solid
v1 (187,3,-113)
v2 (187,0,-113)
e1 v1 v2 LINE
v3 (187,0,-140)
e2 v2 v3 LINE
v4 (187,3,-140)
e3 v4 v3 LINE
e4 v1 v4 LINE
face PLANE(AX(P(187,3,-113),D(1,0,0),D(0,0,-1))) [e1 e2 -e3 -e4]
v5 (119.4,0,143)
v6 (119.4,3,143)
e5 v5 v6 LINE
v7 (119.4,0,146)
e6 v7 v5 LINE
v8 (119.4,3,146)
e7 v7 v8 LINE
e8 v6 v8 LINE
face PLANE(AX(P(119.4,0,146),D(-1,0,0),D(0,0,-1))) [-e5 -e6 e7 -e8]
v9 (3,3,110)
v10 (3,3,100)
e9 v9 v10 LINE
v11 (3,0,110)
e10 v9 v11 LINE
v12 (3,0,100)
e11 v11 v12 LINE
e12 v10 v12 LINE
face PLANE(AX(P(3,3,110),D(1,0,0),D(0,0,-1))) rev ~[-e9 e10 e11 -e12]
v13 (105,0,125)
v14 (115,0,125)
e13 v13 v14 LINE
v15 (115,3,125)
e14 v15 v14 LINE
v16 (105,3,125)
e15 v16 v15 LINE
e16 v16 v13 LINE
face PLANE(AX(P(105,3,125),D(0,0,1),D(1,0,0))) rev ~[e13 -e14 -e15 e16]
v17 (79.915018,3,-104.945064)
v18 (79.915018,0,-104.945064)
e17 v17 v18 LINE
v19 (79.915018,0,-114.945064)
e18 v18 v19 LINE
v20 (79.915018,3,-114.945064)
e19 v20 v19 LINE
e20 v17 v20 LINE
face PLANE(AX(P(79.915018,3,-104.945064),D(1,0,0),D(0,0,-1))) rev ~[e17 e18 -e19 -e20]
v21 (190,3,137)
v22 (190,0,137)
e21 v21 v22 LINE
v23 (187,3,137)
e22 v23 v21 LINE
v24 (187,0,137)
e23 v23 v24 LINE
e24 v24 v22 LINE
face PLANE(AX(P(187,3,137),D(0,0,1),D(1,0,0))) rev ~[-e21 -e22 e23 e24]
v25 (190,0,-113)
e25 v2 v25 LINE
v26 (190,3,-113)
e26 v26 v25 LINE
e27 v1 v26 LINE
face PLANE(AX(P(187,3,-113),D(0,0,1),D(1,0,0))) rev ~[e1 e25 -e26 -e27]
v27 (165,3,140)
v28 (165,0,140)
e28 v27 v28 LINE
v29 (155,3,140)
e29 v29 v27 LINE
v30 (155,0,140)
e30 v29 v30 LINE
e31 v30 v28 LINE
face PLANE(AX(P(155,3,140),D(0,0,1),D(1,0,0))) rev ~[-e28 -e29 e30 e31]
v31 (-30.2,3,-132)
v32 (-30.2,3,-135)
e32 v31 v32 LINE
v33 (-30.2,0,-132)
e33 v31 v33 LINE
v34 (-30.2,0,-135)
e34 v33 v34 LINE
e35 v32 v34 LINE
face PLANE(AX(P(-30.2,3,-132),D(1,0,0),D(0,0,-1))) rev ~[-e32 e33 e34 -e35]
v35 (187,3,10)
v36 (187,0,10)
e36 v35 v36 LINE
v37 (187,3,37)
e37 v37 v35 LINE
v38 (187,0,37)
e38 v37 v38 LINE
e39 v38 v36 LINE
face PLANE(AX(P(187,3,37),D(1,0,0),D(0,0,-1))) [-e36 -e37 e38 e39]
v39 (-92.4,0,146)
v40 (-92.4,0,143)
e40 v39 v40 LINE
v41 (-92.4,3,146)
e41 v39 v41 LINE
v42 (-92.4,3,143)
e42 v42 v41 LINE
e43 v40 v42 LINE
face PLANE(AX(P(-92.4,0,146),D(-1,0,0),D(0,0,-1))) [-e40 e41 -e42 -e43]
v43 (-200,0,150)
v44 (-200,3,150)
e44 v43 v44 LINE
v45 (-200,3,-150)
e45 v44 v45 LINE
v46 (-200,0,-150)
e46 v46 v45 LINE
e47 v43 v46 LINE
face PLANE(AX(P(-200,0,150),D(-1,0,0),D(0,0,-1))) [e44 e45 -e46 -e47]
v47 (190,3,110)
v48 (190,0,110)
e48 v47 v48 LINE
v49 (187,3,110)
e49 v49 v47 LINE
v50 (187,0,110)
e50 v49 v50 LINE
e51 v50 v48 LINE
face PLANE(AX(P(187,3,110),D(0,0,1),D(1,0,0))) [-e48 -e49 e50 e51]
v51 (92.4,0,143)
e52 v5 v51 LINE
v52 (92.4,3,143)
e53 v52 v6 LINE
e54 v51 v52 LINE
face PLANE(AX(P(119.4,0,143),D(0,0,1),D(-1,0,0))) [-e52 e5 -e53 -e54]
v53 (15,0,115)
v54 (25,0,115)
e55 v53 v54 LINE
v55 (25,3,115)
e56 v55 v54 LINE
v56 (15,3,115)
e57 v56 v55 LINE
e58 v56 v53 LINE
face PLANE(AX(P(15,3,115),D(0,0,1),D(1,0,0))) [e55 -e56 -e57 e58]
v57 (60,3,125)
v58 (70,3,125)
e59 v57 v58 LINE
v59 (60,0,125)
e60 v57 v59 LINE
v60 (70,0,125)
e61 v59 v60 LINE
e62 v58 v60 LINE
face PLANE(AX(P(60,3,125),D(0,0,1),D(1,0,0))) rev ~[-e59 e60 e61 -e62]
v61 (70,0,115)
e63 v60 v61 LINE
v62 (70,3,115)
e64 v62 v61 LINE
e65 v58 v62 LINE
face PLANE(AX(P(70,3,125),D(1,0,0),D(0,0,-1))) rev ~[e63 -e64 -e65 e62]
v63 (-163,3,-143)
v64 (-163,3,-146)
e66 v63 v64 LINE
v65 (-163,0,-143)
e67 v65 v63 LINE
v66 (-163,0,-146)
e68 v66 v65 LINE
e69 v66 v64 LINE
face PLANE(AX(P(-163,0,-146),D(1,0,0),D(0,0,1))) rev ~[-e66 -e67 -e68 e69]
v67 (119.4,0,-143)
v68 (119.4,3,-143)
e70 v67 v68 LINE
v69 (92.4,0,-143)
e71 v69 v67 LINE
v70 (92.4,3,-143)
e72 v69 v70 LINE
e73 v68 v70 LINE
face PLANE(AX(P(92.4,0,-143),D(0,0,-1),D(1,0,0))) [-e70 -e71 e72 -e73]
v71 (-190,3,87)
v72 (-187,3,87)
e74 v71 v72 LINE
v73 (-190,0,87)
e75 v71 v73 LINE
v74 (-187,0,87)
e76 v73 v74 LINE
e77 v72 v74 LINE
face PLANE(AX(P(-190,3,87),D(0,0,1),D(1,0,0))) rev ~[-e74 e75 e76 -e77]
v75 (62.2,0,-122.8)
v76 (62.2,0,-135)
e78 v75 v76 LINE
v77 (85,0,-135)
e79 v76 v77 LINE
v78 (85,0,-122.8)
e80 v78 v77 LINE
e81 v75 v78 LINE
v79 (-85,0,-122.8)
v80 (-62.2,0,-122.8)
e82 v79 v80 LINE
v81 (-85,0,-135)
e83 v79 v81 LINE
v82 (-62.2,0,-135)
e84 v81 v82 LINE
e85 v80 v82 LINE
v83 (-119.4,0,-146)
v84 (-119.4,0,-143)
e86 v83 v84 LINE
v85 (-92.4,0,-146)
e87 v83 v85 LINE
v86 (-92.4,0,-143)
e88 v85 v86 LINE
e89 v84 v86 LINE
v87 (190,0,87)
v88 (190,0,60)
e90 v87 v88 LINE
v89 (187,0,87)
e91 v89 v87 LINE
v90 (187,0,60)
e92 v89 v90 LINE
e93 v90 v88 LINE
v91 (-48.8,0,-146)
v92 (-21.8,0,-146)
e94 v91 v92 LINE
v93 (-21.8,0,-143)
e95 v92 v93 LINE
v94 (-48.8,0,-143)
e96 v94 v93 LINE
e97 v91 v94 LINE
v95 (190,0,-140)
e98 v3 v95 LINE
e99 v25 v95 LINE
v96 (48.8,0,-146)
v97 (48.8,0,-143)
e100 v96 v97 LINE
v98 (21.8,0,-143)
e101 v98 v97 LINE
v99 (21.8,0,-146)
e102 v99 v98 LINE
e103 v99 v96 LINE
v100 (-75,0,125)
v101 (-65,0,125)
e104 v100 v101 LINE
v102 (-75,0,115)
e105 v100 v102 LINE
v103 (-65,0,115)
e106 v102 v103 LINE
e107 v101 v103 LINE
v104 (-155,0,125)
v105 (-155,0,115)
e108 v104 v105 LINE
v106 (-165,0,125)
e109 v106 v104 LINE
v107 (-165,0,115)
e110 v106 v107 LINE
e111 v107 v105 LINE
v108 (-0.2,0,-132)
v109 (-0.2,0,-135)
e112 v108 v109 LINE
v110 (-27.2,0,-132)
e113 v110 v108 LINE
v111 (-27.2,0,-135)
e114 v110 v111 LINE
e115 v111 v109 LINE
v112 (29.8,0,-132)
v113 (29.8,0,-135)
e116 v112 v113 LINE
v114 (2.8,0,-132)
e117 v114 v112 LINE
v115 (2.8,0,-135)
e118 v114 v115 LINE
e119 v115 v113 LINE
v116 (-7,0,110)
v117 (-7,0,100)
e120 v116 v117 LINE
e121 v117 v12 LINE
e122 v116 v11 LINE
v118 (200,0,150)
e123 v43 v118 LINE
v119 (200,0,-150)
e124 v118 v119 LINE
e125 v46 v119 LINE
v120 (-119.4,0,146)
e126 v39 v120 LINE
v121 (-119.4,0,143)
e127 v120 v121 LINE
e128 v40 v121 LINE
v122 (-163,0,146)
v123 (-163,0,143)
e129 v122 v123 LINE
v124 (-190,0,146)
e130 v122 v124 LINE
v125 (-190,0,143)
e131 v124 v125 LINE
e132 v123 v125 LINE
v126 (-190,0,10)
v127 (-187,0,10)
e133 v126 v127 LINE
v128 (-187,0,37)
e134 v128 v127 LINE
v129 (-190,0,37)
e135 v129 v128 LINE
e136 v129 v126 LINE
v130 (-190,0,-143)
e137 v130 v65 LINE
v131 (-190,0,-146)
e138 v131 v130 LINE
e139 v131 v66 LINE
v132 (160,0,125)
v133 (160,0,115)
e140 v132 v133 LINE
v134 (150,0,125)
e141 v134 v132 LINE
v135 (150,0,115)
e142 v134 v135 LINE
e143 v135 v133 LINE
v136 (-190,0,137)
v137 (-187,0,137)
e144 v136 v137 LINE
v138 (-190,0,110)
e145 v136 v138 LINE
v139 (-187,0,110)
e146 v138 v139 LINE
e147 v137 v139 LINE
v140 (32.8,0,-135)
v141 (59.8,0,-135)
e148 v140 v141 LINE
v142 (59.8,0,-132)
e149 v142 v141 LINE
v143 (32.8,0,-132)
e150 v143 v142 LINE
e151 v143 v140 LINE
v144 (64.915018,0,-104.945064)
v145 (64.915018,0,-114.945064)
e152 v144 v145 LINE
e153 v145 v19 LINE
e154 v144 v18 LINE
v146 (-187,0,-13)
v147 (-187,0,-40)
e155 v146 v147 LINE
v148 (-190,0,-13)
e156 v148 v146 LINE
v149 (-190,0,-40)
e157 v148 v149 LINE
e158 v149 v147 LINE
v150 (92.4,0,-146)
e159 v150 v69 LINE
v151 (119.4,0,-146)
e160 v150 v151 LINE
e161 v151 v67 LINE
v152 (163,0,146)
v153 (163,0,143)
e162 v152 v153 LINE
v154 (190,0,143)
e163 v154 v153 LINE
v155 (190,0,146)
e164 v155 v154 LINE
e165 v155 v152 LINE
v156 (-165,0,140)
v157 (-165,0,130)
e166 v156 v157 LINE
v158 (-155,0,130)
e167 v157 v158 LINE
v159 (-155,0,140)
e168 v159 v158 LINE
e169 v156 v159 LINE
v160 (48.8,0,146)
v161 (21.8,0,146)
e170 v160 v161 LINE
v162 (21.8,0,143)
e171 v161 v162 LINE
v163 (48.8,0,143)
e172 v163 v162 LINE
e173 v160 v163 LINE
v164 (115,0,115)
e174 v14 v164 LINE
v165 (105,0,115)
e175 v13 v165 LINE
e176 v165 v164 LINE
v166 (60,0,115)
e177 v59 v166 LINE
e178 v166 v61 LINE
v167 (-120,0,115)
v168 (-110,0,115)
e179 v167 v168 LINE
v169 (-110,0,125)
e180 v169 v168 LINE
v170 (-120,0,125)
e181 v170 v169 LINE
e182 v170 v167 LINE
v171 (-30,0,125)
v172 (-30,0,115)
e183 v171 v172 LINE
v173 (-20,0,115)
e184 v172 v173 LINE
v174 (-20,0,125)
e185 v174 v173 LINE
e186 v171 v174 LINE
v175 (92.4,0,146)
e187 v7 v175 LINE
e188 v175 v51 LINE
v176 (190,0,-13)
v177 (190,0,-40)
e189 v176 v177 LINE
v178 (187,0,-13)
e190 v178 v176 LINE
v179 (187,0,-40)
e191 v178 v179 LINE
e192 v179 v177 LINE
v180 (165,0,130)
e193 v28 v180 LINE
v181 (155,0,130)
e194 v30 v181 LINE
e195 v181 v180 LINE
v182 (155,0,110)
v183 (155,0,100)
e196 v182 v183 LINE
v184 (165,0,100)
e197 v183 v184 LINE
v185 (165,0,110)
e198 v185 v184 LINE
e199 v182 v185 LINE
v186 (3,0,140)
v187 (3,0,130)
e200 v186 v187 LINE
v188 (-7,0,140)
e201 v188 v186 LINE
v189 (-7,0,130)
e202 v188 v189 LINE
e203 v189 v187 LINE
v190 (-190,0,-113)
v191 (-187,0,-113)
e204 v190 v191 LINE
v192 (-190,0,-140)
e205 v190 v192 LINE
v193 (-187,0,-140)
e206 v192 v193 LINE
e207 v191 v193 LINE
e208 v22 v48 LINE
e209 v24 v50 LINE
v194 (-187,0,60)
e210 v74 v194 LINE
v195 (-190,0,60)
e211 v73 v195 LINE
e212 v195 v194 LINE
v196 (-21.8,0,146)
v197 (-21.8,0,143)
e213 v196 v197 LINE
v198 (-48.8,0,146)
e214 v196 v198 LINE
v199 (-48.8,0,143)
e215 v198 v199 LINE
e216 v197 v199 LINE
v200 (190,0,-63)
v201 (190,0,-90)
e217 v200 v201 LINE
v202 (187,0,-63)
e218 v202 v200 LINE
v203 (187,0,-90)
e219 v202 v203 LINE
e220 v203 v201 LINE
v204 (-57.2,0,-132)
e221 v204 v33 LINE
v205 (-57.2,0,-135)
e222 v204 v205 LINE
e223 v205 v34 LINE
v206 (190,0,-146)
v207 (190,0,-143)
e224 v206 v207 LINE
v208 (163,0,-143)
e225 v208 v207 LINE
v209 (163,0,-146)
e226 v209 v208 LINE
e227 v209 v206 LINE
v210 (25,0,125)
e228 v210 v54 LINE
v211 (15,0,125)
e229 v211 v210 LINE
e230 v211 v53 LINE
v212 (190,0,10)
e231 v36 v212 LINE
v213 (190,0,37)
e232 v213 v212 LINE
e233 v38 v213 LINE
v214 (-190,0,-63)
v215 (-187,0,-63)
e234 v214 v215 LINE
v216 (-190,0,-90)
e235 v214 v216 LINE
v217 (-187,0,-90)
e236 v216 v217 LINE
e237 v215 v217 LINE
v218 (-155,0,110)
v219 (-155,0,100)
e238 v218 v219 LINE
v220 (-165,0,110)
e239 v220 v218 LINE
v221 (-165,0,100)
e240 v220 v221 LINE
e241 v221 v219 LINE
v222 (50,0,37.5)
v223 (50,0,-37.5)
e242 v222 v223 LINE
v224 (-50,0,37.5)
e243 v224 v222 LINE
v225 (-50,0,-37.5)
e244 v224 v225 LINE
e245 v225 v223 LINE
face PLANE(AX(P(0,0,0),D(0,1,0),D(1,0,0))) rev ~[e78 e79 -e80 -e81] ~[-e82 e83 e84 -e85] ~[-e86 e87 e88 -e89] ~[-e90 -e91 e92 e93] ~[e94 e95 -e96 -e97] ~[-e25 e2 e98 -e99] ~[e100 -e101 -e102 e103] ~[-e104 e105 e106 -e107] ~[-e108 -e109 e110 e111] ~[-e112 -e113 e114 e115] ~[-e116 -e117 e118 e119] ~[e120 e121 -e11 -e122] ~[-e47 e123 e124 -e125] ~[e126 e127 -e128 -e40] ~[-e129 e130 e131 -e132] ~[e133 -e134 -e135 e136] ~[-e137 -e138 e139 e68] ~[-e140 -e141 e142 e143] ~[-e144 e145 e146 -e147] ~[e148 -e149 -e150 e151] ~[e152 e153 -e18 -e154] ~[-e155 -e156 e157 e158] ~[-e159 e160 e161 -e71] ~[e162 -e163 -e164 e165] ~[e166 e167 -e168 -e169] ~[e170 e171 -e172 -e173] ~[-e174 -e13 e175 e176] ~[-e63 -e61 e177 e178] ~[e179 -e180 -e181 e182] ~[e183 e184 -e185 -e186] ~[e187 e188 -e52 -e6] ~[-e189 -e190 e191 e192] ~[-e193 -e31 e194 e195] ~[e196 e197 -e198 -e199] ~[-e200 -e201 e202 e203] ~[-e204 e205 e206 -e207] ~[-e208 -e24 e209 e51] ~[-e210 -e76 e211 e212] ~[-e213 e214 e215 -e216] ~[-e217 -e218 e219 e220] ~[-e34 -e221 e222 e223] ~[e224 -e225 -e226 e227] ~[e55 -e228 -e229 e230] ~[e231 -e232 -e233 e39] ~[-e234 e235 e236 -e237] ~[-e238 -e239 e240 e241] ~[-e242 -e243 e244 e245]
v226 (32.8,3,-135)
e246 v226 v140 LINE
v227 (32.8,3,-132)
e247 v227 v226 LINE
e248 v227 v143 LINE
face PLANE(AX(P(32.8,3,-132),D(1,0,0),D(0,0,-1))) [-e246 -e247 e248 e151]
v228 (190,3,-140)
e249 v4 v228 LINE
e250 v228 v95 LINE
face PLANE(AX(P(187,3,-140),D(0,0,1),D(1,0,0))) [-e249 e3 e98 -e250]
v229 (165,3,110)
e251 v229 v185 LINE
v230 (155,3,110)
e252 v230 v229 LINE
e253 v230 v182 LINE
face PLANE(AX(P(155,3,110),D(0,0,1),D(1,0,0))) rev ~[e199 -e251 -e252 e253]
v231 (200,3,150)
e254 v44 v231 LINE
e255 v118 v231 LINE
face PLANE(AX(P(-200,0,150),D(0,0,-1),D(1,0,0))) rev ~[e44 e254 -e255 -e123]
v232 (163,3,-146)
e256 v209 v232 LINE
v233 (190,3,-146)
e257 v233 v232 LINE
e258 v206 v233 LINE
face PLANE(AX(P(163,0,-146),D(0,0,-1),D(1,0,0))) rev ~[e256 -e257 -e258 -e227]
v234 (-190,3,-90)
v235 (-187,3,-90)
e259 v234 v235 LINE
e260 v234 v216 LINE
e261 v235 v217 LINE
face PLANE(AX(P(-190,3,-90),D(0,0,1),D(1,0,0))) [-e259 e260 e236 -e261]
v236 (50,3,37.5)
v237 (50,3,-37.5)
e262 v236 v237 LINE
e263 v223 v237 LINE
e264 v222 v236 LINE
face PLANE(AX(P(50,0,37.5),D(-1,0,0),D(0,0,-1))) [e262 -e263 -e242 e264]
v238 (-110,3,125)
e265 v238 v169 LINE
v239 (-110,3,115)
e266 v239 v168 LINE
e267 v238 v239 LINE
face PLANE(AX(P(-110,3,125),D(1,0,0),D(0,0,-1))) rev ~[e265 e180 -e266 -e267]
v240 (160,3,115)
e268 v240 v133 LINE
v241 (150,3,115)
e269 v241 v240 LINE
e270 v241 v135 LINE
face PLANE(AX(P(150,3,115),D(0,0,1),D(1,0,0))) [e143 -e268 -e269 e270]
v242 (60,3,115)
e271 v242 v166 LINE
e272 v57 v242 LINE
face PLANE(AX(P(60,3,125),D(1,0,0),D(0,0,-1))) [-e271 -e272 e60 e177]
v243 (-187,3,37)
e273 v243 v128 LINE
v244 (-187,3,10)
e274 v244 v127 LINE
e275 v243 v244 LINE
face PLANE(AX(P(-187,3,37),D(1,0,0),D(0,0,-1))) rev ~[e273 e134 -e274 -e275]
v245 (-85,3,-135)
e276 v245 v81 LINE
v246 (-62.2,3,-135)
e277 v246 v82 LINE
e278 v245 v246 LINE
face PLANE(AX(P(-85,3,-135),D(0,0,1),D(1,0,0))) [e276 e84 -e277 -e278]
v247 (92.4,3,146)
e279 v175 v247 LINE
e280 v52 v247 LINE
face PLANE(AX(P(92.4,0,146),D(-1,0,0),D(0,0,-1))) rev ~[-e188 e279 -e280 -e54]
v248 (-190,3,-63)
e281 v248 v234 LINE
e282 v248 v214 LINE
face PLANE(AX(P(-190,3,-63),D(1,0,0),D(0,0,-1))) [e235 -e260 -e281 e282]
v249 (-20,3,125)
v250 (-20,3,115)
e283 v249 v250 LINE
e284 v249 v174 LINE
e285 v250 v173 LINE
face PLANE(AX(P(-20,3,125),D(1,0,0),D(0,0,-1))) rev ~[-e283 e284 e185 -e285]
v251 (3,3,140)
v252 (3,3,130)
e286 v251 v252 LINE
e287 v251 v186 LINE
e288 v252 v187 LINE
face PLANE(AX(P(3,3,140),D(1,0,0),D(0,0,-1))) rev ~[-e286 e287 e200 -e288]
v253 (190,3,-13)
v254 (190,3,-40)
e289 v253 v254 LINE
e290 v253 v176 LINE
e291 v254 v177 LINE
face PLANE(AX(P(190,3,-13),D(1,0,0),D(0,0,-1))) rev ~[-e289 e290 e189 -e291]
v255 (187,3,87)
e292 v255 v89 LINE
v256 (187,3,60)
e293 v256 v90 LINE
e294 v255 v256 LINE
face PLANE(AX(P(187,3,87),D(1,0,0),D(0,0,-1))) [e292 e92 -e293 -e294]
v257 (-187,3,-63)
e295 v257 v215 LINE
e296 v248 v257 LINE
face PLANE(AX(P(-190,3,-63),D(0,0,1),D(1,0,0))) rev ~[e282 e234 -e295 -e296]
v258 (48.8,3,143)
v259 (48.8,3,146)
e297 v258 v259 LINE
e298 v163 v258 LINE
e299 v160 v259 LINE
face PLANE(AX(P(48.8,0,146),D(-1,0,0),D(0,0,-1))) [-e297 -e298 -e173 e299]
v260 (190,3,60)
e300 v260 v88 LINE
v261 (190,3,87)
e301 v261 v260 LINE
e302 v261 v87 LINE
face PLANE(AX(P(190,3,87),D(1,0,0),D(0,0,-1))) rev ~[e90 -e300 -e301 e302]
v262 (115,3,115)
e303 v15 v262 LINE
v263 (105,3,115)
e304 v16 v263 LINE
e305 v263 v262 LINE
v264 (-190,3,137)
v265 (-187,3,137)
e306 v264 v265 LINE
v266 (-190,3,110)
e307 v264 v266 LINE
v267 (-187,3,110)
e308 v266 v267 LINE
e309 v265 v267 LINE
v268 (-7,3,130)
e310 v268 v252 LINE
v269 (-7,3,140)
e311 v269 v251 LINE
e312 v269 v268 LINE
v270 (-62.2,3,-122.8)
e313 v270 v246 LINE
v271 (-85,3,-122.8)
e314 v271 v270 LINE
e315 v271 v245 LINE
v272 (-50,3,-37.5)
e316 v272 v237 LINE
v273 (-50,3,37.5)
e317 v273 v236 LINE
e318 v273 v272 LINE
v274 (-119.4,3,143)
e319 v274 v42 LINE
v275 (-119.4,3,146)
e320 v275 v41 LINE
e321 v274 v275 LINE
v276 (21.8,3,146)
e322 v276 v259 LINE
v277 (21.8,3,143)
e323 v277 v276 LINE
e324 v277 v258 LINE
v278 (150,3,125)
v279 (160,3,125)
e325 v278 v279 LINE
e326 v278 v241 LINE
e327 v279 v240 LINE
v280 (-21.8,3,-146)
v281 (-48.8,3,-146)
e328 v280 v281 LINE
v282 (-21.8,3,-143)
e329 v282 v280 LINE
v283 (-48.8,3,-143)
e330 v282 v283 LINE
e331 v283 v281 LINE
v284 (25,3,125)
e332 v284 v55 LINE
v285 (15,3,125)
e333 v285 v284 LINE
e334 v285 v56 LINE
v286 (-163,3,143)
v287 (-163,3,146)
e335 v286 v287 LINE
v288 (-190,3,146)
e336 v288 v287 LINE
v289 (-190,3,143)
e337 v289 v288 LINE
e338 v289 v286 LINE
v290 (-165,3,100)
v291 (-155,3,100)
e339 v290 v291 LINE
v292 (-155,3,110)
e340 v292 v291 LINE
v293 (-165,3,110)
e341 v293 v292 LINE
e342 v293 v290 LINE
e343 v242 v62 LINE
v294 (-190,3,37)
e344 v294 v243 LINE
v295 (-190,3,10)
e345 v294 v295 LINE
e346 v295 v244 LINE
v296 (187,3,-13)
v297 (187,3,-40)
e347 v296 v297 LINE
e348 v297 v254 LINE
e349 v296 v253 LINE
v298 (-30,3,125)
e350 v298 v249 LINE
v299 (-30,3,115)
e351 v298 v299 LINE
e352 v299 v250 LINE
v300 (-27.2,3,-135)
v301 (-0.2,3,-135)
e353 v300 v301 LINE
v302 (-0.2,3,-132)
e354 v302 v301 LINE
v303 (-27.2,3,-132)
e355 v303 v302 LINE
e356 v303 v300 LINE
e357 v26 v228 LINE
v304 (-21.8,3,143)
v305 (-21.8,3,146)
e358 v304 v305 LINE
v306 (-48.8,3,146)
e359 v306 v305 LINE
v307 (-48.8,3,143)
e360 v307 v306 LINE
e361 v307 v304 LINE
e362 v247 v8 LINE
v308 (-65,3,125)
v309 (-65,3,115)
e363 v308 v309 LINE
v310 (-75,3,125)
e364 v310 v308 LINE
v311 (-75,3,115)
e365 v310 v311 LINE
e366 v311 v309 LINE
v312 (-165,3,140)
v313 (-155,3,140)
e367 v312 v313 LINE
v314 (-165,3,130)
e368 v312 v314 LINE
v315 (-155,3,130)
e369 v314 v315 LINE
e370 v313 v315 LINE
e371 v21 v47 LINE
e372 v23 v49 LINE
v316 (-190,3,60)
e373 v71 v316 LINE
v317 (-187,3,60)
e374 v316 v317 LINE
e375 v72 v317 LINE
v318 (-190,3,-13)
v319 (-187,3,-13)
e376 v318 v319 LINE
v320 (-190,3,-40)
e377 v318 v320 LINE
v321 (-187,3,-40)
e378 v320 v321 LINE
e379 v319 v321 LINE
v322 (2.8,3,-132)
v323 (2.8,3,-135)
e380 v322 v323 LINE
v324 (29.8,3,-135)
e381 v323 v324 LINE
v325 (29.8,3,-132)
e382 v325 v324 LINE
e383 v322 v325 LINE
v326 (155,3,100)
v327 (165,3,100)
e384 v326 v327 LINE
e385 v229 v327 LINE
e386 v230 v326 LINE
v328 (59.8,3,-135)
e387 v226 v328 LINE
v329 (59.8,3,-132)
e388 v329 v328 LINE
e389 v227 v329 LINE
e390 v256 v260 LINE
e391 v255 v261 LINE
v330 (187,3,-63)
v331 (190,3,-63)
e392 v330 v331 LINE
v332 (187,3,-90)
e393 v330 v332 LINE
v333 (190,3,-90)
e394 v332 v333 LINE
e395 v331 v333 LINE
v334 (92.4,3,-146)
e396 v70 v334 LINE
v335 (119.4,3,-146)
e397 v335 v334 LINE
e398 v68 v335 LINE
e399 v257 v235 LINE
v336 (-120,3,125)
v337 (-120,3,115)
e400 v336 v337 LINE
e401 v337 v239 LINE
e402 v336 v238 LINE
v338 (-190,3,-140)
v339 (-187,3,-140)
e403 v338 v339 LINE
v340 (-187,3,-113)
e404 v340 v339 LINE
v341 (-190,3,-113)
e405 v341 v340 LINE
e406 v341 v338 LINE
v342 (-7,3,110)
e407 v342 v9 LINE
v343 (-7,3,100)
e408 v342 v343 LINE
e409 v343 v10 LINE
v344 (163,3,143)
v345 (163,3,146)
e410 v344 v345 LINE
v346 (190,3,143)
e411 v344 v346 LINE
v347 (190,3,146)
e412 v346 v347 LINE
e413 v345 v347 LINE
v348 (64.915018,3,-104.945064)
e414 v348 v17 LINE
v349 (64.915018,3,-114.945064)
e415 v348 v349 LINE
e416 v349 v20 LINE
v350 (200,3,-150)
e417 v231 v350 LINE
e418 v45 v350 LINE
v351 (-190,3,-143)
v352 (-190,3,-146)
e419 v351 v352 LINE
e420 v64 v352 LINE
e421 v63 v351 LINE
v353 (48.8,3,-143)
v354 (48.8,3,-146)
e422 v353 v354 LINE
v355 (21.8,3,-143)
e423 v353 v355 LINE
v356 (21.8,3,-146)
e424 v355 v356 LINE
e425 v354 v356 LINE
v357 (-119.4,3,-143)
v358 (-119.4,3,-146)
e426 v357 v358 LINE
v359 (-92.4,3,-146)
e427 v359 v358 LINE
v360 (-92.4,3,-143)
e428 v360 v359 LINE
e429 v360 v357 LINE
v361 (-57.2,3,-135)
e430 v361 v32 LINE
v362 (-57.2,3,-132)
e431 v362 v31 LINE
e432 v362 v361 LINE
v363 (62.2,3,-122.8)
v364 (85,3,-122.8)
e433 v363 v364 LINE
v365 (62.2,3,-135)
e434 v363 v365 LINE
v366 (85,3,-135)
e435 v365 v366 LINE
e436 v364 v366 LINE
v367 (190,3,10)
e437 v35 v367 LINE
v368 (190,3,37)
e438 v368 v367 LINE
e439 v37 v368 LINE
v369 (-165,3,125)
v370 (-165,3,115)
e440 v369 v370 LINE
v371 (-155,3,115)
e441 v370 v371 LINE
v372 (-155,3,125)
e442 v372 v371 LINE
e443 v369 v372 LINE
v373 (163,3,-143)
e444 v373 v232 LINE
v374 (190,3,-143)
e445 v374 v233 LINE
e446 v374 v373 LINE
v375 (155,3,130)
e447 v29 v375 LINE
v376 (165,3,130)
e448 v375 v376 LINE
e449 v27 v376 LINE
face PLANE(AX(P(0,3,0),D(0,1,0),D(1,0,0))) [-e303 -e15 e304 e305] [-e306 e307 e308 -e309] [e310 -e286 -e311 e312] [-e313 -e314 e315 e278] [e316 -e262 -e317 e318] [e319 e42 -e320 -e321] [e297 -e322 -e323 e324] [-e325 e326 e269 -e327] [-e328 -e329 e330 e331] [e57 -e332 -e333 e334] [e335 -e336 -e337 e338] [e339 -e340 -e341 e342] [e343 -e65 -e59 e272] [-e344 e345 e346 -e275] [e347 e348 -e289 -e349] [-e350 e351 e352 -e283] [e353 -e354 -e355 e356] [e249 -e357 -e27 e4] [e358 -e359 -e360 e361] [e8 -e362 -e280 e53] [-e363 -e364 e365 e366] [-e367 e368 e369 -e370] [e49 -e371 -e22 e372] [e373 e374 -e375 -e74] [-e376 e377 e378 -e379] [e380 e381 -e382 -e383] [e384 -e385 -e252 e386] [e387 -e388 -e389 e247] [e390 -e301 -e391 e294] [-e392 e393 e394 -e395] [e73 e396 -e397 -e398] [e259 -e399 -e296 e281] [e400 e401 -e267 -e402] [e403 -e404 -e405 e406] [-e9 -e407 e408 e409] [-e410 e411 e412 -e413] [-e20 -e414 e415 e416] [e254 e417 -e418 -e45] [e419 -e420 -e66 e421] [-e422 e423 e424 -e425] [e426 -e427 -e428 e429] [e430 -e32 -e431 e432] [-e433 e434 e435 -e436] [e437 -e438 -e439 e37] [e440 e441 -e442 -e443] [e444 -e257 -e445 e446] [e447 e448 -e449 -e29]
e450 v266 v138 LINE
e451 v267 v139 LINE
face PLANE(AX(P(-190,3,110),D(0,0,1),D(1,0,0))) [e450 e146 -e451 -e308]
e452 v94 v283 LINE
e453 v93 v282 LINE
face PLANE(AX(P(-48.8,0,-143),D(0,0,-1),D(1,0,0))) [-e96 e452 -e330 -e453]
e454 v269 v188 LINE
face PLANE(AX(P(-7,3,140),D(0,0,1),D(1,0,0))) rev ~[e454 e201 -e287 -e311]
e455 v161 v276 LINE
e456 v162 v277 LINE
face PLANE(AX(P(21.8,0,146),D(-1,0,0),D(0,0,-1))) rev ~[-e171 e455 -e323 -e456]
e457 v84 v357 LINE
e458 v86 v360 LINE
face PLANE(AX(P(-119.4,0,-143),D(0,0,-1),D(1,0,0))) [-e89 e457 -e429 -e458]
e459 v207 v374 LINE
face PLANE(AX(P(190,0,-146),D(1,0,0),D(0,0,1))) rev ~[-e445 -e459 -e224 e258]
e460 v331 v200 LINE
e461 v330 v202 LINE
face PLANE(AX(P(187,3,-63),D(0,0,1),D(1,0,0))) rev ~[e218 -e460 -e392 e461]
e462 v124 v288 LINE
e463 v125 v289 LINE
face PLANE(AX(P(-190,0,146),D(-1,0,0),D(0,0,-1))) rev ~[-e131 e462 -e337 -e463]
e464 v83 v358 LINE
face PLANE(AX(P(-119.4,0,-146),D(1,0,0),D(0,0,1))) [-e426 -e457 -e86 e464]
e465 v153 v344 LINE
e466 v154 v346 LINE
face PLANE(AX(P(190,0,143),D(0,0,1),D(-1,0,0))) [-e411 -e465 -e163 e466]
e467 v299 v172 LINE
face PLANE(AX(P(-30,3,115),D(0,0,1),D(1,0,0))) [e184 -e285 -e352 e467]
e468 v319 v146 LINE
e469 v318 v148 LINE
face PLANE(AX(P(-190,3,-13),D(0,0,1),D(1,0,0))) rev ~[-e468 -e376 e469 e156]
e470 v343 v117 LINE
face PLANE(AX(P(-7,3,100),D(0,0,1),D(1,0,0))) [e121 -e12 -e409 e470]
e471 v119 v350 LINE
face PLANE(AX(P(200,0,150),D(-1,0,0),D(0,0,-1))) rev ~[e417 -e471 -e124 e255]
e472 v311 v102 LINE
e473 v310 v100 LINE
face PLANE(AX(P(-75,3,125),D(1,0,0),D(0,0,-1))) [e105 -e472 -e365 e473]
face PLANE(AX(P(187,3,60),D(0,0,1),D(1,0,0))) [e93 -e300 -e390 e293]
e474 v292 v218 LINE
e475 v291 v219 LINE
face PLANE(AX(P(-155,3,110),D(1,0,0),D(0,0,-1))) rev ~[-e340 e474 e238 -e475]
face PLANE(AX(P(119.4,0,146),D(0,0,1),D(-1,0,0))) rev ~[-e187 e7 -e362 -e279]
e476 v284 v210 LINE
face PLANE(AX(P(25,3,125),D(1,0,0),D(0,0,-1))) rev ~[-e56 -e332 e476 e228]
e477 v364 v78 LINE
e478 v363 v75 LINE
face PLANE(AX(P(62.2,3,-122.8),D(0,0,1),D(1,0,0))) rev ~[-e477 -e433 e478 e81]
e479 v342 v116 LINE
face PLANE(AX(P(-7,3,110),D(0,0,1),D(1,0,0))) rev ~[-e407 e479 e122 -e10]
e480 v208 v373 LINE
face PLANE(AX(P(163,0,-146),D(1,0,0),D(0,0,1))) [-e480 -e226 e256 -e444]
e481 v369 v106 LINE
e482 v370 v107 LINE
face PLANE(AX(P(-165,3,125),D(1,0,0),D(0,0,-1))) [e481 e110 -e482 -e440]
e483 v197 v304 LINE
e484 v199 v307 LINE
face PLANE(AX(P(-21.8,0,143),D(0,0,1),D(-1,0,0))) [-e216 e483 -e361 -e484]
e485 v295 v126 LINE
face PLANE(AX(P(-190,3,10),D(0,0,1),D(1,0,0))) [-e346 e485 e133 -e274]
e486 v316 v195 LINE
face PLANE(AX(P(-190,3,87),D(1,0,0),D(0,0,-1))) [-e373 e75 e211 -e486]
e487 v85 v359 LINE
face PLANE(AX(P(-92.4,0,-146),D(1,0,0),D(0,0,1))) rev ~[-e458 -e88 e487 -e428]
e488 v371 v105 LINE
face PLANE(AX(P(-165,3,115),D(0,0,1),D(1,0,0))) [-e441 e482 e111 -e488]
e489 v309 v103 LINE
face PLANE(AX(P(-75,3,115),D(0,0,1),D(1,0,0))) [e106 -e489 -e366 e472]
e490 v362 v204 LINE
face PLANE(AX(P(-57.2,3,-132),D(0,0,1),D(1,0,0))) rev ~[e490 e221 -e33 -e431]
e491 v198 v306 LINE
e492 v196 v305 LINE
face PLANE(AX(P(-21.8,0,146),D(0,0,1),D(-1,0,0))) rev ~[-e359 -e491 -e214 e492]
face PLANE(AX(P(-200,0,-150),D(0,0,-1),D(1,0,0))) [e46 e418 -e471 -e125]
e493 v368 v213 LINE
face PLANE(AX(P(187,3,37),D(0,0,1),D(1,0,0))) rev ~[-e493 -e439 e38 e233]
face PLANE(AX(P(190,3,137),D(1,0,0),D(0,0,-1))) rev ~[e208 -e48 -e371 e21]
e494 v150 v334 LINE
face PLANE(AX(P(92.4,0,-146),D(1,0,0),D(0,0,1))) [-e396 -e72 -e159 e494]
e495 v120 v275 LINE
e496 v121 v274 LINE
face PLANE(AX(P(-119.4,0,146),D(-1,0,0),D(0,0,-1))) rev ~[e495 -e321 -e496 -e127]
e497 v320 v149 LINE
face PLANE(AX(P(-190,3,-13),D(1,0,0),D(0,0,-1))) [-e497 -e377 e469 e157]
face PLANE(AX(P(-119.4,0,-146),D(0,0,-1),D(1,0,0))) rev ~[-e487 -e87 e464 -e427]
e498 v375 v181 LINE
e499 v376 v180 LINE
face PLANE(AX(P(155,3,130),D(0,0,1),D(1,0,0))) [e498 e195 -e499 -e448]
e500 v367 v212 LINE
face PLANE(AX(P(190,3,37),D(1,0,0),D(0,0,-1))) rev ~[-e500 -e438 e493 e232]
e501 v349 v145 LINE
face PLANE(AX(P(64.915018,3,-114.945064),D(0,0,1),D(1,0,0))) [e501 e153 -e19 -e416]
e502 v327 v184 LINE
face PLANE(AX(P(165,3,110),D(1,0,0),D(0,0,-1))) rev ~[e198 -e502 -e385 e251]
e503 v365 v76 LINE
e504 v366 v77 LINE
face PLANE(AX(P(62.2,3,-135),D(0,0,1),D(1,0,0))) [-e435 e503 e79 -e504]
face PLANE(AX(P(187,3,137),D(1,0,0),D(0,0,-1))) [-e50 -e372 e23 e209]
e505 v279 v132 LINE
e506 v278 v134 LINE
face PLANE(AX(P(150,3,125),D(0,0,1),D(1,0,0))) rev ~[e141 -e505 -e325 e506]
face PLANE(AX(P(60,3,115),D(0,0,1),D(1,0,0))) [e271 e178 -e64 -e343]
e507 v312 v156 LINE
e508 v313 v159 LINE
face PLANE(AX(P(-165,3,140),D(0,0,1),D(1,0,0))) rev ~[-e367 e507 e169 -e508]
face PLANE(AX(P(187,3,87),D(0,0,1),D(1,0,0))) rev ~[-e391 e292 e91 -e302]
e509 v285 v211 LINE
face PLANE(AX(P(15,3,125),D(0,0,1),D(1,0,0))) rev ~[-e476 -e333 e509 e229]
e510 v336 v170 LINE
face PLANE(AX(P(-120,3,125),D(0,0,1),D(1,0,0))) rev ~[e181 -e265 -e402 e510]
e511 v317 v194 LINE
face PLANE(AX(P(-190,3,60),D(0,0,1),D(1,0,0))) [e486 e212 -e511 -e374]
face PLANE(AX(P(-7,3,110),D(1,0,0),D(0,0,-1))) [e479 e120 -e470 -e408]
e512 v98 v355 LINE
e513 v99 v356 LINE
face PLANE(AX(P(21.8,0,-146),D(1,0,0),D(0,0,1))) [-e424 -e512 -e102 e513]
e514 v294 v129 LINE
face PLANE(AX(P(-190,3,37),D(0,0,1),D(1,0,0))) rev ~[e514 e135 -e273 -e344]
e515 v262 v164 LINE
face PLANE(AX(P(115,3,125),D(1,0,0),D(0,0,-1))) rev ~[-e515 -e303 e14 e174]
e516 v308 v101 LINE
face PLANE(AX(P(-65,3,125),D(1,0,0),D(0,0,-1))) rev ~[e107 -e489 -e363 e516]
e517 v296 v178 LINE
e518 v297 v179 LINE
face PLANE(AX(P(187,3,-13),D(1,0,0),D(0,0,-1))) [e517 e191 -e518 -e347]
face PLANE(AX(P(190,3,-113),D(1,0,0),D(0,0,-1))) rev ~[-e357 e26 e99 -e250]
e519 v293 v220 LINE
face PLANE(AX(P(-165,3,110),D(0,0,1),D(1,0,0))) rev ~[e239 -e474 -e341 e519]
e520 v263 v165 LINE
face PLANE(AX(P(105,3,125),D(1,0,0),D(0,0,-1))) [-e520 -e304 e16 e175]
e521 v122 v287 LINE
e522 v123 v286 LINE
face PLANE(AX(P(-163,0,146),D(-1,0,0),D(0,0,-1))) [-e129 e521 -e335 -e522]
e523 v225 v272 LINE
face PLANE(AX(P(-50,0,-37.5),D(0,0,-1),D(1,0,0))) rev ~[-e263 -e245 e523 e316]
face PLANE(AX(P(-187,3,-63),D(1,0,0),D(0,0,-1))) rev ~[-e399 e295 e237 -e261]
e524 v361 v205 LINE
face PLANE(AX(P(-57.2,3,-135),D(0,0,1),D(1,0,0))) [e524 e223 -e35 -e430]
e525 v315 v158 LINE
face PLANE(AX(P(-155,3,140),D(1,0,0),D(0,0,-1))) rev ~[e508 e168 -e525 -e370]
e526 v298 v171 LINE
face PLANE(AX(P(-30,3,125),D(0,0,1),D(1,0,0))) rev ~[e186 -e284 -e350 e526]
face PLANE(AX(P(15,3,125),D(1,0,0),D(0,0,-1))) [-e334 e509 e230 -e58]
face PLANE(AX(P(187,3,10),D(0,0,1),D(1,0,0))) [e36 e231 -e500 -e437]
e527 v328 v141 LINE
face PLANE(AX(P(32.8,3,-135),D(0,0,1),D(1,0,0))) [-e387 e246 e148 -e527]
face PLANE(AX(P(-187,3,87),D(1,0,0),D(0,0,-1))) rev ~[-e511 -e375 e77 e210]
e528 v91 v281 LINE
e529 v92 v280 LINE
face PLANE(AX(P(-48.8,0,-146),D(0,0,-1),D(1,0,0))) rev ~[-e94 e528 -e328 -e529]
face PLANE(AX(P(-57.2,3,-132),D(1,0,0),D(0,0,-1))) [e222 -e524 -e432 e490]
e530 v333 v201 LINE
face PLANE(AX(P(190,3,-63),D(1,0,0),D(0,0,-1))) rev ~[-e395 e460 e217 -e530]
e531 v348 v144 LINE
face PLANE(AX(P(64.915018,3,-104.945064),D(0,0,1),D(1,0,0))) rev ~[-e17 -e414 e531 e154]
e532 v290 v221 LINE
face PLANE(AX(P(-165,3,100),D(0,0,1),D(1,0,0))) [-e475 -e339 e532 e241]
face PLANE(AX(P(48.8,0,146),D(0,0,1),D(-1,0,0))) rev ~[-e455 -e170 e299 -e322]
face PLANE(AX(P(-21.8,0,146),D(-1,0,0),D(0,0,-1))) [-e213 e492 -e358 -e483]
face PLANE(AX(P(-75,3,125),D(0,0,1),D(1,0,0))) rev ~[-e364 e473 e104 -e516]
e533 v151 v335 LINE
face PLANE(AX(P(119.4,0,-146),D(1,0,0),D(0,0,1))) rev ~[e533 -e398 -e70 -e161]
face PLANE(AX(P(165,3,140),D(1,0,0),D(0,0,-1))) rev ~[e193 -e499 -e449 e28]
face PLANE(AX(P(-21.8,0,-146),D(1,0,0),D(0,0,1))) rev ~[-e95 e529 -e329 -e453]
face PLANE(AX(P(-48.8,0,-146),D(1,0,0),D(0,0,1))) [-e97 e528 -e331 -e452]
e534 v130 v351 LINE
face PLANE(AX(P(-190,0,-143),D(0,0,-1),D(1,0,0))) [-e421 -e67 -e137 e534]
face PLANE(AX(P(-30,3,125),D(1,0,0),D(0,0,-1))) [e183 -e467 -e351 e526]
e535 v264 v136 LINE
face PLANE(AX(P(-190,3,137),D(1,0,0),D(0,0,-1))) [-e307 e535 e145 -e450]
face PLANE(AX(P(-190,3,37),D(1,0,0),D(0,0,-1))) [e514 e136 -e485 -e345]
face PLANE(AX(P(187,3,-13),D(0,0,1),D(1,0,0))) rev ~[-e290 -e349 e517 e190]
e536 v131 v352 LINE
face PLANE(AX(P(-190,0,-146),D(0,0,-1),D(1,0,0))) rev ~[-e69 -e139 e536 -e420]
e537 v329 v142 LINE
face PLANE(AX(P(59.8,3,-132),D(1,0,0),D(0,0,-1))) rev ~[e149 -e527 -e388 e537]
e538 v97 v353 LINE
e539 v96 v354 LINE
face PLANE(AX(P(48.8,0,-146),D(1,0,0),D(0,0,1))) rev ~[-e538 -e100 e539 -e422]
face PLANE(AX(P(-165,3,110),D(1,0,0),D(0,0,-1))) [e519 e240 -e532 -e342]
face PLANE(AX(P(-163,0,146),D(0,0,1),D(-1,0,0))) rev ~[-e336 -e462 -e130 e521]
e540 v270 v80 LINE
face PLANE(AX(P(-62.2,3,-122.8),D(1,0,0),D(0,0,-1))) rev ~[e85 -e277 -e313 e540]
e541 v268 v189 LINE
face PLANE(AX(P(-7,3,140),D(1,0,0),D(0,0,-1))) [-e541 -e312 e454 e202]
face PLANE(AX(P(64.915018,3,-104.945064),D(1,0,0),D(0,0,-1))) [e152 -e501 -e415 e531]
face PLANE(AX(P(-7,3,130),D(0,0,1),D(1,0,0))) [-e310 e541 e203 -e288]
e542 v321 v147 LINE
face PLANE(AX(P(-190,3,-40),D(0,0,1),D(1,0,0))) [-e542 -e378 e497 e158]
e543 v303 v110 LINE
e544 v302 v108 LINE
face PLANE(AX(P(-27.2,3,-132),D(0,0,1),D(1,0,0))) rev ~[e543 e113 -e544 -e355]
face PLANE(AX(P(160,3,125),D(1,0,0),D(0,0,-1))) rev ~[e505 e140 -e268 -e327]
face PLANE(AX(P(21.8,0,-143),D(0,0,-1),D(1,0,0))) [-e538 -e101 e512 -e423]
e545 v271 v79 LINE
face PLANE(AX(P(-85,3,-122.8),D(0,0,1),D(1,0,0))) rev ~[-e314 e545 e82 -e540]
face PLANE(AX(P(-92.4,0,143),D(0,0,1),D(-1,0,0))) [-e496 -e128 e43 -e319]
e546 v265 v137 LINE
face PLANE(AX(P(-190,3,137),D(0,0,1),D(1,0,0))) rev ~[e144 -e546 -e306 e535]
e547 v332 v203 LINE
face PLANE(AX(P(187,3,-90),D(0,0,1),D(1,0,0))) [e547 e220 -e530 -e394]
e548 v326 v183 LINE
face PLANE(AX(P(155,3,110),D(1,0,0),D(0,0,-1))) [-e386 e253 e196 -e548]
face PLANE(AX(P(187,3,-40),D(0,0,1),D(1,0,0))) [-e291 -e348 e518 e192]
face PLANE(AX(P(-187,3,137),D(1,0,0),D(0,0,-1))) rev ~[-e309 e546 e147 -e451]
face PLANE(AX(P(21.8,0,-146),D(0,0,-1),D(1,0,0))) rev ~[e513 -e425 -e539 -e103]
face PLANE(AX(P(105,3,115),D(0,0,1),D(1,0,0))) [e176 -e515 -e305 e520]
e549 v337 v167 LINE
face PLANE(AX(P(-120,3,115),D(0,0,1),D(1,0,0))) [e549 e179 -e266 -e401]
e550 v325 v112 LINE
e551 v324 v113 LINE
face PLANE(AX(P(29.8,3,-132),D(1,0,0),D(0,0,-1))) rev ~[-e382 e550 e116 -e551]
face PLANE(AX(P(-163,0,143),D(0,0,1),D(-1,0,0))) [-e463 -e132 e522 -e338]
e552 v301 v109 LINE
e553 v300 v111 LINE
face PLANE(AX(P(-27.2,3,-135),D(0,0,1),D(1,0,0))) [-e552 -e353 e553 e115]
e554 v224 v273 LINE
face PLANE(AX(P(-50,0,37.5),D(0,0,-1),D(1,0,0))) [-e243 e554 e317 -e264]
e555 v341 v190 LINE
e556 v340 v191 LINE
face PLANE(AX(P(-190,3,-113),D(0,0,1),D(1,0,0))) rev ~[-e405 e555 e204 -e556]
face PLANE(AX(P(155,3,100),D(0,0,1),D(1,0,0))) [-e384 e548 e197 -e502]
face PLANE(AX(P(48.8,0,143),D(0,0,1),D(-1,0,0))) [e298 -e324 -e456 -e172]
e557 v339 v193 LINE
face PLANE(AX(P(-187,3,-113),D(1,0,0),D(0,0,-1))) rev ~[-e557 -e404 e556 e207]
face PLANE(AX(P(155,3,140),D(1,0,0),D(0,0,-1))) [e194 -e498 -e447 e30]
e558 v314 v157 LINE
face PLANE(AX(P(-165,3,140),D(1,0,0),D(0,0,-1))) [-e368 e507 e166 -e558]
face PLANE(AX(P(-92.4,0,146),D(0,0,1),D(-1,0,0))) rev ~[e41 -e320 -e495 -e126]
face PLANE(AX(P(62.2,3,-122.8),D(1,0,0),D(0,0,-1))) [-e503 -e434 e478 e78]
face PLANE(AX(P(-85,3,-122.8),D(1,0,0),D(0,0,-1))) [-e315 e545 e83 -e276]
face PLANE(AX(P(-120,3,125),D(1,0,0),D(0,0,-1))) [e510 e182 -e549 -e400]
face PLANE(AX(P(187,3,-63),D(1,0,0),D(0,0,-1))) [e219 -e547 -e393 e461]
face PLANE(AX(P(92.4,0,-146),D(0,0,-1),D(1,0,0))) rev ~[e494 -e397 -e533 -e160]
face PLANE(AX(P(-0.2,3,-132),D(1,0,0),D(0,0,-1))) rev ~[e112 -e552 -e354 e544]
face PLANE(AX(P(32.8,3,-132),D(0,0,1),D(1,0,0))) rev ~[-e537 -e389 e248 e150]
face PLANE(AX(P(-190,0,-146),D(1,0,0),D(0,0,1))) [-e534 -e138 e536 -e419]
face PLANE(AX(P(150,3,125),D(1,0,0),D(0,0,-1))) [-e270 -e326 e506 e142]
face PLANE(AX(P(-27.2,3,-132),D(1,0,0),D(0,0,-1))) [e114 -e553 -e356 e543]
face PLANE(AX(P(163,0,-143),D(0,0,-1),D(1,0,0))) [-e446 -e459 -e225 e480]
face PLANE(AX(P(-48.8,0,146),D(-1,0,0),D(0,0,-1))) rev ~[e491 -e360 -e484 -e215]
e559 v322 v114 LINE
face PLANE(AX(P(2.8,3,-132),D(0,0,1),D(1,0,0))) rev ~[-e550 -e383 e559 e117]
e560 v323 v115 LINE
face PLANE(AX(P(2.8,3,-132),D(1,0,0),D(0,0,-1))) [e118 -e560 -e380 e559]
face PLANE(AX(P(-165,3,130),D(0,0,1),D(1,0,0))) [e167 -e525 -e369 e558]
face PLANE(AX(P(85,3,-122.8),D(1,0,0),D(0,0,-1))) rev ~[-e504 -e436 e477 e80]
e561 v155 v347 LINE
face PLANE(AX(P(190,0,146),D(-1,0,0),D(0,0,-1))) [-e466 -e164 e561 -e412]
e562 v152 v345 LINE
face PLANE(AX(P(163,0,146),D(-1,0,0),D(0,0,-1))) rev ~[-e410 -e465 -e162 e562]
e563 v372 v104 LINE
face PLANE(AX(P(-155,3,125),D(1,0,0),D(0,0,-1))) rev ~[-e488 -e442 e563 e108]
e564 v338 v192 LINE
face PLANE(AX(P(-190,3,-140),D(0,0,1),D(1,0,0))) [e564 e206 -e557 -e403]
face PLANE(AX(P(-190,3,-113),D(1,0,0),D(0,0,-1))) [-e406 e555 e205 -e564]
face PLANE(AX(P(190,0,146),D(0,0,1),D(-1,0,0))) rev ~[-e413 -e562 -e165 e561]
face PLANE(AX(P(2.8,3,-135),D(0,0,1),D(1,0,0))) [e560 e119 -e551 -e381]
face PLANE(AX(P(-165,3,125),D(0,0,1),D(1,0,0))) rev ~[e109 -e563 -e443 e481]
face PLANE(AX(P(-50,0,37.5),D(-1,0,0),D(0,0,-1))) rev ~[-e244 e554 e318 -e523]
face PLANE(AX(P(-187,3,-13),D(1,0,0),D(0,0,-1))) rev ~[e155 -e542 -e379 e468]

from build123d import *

# Parameters (mm, degrees)
SKETCH1_W           = 400
SKETCH1_H           = 300
SKETCH1_W_2         = 100
SKETCH1_H_2         = 75
BOSS_EXTRUDE2_DEPTH = 3
SKETCH2_W           = 10
SKETCH2_H           = 10
CUT_EXTRUDE1_DEPTH  = 3
SKETCH3_W           = 22.8
SKETCH3_H           = 12.2
CUT_EXTRUDE2_DEPTH  = 3
SKETCH4_W           = 15
SKETCH4_H           = 10
CUT_EXTRUDE3_DEPTH  = 3
SKETCH5_W           = 3
SKETCH5_H           = 27
CUT_EXTRUDE4_DEPTH  = 3
SKETCH6_W           = 3
SKETCH6_H           = 27
CUT_EXTRUDE5_DEPTH  = 3
SKETCH7_W           = 27
SKETCH7_H           = 3
CUT_EXTRUDE6_DEPTH  = 3
SKETCH8_W           = 10
SKETCH8_H           = 10
CUT_EXTRUDE7_DEPTH  = 3
SKETCH9_W           = 10
SKETCH9_H           = 10
CUT_EXTRUDE8_DEPTH  = 3
SKETCH11_W          = 10
SKETCH11_H          = 10
CUT_EXTRUDE9_DEPTH  = 3
SKETCH12_W          = 27
SKETCH12_H          = 3
CUT_EXTRUDE10_DEPTH = 10
SKETCH13_W          = 27
SKETCH13_H          = 3
CUT_EXTRUDE11_DEPTH = 10


with BuildPart() as part:
    # Sketch1 → Boss-Extrude2 (new body)
    with BuildSketch(Plane(origin=(0, 0, 0), x_dir=(1, 0, 0), z_dir=(0, 1, 0))):
        Rectangle(SKETCH1_W, SKETCH1_H)
        Rectangle(SKETCH1_W_2, SKETCH1_H_2, mode=Mode.SUBTRACT)
    extrude(amount=BOSS_EXTRUDE2_DEPTH)

    # Sketch2 → Cut-Extrude1 (cut)
    with BuildSketch(Plane(origin=(0, 3, 0), x_dir=(1, 0, 0), z_dir=(0, 1, 0))):
        with Locations((-160, -120)):
            Rectangle(SKETCH2_W, SKETCH2_H)
        with Locations((-115, -120)):
            Rectangle(SKETCH2_W, SKETCH2_H)
        with Locations((-70, -120)):
            Rectangle(SKETCH2_W, SKETCH2_H)
        with Locations((-25, -120)):
            Rectangle(SKETCH2_W, SKETCH2_H)
        with Locations((20, -120)):
            Rectangle(SKETCH2_W, SKETCH2_H)
        with Locations((65, -120)):
            Rectangle(SKETCH2_W, SKETCH2_H)
        with Locations((110, -120)):
            Rectangle(SKETCH2_W, SKETCH2_H)
        with Locations((155, -120)):
            Rectangle(SKETCH2_W, SKETCH2_H)
    extrude(amount=-CUT_EXTRUDE1_DEPTH, mode=Mode.SUBTRACT)

    # Sketch3 → Cut-Extrude2 (cut)
    with BuildSketch(Plane(origin=(0, 3, 0), x_dir=(1, 0, 0), z_dir=(0, 1, 0))):
        with Locations((-73.6, 128.9)):
            Rectangle(SKETCH3_W, SKETCH3_H)
        with Locations((73.6, 128.9)):
            Rectangle(SKETCH3_W, SKETCH3_H)
    extrude(amount=-CUT_EXTRUDE2_DEPTH, mode=Mode.SUBTRACT)

    # Sketch4 → Cut-Extrude3 (cut)
    with BuildSketch(Plane(origin=(0, 3, 0), x_dir=(1, 0, 0), z_dir=(0, 1, 0))):
        with Locations((72.41501841, 109.945064446)):
            Rectangle(SKETCH4_W, SKETCH4_H)
    extrude(amount=-CUT_EXTRUDE3_DEPTH, mode=Mode.SUBTRACT)

    # Sketch5 → Cut-Extrude4 (cut)
    with BuildSketch(Plane(origin=(0, 3, 0), x_dir=(1, 0, 0), z_dir=(0, 1, 0))):
        with Locations((-188.5, 126.5)):
            Rectangle(SKETCH5_W, SKETCH5_H)
        with Locations((-188.5, 76.5)):
            Rectangle(SKETCH5_W, SKETCH5_H)
        with Locations((-188.5, 26.5)):
            Rectangle(SKETCH5_W, SKETCH5_H)
        with Locations((-188.5, -23.5)):
            Rectangle(SKETCH5_W, SKETCH5_H)
        with Locations((-188.5, -73.5)):
            Rectangle(SKETCH5_W, SKETCH5_H)
        with Locations((-188.5, -123.5)):
            Rectangle(SKETCH5_W, SKETCH5_H)
    extrude(amount=-CUT_EXTRUDE4_DEPTH, mode=Mode.SUBTRACT)

    # Sketch6 → Cut-Extrude5 (cut)
    with BuildSketch(Plane(origin=(0, 3, 0), x_dir=(1, 0, 0), z_dir=(0, 1, 0))):
        with Locations((188.5, 126.5)):
            Rectangle(SKETCH6_W, SKETCH6_H)
        with Locations((188.5, 76.5)):
            Rectangle(SKETCH6_W, SKETCH6_H)
        with Locations((188.5, 26.5)):
            Rectangle(SKETCH6_W, SKETCH6_H)
        with Locations((188.5, -23.5)):
            Rectangle(SKETCH6_W, SKETCH6_H)
        with Locations((188.5, -73.5)):
            Rectangle(SKETCH6_W, SKETCH6_H)
        with Locations((188.5, -123.5)):
            Rectangle(SKETCH6_W, SKETCH6_H)
    extrude(amount=-CUT_EXTRUDE5_DEPTH, mode=Mode.SUBTRACT)

    # Sketch7 → Cut-Extrude6 (cut)
    with BuildSketch(Plane(origin=(0, 3, 0), x_dir=(1, 0, 0), z_dir=(0, 1, 0))):
        with Locations((-43.7, 133.5)):
            Rectangle(SKETCH7_W, SKETCH7_H)
        with Locations((-13.7, 133.5)):
            Rectangle(SKETCH7_W, SKETCH7_H)
        with Locations((16.3, 133.5)):
            Rectangle(SKETCH7_W, SKETCH7_H)
        with Locations((46.3, 133.5)):
            Rectangle(SKETCH7_W, SKETCH7_H)
    extrude(amount=-CUT_EXTRUDE6_DEPTH, mode=Mode.SUBTRACT)

    # Sketch8 → Cut-Extrude7 (cut)
    with BuildSketch(Plane(origin=(0, 3, 0), x_dir=(1, 0, 0), z_dir=(0, 1, 0))):
        with Locations((-160, -135)):
            Rectangle(SKETCH8_W, SKETCH8_H)
        with Locations((-160, -105)):
            Rectangle(SKETCH8_W, SKETCH8_H)
    extrude(amount=-CUT_EXTRUDE7_DEPTH, mode=Mode.SUBTRACT)

    # Sketch9 → Cut-Extrude8 (cut)
    with BuildSketch(Plane(origin=(0, 3, 0), x_dir=(1, 0, 0), z_dir=(0, 1, 0))):
        with Locations((-2, -135)):
            Rectangle(SKETCH9_W, SKETCH9_H)
        with Locations((-2, -105)):
            Rectangle(SKETCH9_W, SKETCH9_H)
    extrude(amount=-CUT_EXTRUDE8_DEPTH, mode=Mode.SUBTRACT)

    # Sketch11 → Cut-Extrude9 (cut)
    with BuildSketch(Plane(origin=(0, 3, 0), x_dir=(1, 0, 0), z_dir=(0, 1, 0))):
        with Locations((160, -135)):
            Rectangle(SKETCH11_W, SKETCH11_H)
        with Locations((160, -105)):
            Rectangle(SKETCH11_W, SKETCH11_H)
    extrude(amount=-CUT_EXTRUDE9_DEPTH, mode=Mode.SUBTRACT)

    # Sketch12 → Cut-Extrude10 (cut)
    with BuildSketch(Plane.XZ):
        with Locations((-176.5, -144.5)):
            Rectangle(SKETCH12_W, SKETCH12_H)
        with Locations((-105.9, -144.5)):
            Rectangle(SKETCH12_W, SKETCH12_H)
        with Locations((-35.3, -144.5)):
            Rectangle(SKETCH12_W, SKETCH12_H)
        with Locations((35.3, -144.5)):
            Rectangle(SKETCH12_W, SKETCH12_H)
        with Locations((105.9, -144.5)):
            Rectangle(SKETCH12_W, SKETCH12_H)
        with Locations((176.5, -144.5)):
            Rectangle(SKETCH12_W, SKETCH12_H)
    extrude(amount=-CUT_EXTRUDE10_DEPTH, mode=Mode.SUBTRACT)

    # Sketch13 → Cut-Extrude11 (cut)
    with BuildSketch(Plane(origin=(0, 0, 0), x_dir=(-1, 0, 0), z_dir=(0, -1, 0))):
        with Locations((176.5, -144.5)):
            Rectangle(SKETCH13_W, SKETCH13_H)
        with Locations((105.9, -144.5)):
            Rectangle(SKETCH13_W, SKETCH13_H)
        with Locations((35.3, -144.5)):
            Rectangle(SKETCH13_W, SKETCH13_H)
        with Locations((-35.3, -144.5)):
            Rectangle(SKETCH13_W, SKETCH13_H)
        with Locations((-105.9, -144.5)):
            Rectangle(SKETCH13_W, SKETCH13_H)
        with Locations((-176.5, -144.5)):
            Rectangle(SKETCH13_W, SKETCH13_H)
    extrude(amount=-CUT_EXTRUDE11_DEPTH, mode=Mode.SUBTRACT)


solid = part.part
